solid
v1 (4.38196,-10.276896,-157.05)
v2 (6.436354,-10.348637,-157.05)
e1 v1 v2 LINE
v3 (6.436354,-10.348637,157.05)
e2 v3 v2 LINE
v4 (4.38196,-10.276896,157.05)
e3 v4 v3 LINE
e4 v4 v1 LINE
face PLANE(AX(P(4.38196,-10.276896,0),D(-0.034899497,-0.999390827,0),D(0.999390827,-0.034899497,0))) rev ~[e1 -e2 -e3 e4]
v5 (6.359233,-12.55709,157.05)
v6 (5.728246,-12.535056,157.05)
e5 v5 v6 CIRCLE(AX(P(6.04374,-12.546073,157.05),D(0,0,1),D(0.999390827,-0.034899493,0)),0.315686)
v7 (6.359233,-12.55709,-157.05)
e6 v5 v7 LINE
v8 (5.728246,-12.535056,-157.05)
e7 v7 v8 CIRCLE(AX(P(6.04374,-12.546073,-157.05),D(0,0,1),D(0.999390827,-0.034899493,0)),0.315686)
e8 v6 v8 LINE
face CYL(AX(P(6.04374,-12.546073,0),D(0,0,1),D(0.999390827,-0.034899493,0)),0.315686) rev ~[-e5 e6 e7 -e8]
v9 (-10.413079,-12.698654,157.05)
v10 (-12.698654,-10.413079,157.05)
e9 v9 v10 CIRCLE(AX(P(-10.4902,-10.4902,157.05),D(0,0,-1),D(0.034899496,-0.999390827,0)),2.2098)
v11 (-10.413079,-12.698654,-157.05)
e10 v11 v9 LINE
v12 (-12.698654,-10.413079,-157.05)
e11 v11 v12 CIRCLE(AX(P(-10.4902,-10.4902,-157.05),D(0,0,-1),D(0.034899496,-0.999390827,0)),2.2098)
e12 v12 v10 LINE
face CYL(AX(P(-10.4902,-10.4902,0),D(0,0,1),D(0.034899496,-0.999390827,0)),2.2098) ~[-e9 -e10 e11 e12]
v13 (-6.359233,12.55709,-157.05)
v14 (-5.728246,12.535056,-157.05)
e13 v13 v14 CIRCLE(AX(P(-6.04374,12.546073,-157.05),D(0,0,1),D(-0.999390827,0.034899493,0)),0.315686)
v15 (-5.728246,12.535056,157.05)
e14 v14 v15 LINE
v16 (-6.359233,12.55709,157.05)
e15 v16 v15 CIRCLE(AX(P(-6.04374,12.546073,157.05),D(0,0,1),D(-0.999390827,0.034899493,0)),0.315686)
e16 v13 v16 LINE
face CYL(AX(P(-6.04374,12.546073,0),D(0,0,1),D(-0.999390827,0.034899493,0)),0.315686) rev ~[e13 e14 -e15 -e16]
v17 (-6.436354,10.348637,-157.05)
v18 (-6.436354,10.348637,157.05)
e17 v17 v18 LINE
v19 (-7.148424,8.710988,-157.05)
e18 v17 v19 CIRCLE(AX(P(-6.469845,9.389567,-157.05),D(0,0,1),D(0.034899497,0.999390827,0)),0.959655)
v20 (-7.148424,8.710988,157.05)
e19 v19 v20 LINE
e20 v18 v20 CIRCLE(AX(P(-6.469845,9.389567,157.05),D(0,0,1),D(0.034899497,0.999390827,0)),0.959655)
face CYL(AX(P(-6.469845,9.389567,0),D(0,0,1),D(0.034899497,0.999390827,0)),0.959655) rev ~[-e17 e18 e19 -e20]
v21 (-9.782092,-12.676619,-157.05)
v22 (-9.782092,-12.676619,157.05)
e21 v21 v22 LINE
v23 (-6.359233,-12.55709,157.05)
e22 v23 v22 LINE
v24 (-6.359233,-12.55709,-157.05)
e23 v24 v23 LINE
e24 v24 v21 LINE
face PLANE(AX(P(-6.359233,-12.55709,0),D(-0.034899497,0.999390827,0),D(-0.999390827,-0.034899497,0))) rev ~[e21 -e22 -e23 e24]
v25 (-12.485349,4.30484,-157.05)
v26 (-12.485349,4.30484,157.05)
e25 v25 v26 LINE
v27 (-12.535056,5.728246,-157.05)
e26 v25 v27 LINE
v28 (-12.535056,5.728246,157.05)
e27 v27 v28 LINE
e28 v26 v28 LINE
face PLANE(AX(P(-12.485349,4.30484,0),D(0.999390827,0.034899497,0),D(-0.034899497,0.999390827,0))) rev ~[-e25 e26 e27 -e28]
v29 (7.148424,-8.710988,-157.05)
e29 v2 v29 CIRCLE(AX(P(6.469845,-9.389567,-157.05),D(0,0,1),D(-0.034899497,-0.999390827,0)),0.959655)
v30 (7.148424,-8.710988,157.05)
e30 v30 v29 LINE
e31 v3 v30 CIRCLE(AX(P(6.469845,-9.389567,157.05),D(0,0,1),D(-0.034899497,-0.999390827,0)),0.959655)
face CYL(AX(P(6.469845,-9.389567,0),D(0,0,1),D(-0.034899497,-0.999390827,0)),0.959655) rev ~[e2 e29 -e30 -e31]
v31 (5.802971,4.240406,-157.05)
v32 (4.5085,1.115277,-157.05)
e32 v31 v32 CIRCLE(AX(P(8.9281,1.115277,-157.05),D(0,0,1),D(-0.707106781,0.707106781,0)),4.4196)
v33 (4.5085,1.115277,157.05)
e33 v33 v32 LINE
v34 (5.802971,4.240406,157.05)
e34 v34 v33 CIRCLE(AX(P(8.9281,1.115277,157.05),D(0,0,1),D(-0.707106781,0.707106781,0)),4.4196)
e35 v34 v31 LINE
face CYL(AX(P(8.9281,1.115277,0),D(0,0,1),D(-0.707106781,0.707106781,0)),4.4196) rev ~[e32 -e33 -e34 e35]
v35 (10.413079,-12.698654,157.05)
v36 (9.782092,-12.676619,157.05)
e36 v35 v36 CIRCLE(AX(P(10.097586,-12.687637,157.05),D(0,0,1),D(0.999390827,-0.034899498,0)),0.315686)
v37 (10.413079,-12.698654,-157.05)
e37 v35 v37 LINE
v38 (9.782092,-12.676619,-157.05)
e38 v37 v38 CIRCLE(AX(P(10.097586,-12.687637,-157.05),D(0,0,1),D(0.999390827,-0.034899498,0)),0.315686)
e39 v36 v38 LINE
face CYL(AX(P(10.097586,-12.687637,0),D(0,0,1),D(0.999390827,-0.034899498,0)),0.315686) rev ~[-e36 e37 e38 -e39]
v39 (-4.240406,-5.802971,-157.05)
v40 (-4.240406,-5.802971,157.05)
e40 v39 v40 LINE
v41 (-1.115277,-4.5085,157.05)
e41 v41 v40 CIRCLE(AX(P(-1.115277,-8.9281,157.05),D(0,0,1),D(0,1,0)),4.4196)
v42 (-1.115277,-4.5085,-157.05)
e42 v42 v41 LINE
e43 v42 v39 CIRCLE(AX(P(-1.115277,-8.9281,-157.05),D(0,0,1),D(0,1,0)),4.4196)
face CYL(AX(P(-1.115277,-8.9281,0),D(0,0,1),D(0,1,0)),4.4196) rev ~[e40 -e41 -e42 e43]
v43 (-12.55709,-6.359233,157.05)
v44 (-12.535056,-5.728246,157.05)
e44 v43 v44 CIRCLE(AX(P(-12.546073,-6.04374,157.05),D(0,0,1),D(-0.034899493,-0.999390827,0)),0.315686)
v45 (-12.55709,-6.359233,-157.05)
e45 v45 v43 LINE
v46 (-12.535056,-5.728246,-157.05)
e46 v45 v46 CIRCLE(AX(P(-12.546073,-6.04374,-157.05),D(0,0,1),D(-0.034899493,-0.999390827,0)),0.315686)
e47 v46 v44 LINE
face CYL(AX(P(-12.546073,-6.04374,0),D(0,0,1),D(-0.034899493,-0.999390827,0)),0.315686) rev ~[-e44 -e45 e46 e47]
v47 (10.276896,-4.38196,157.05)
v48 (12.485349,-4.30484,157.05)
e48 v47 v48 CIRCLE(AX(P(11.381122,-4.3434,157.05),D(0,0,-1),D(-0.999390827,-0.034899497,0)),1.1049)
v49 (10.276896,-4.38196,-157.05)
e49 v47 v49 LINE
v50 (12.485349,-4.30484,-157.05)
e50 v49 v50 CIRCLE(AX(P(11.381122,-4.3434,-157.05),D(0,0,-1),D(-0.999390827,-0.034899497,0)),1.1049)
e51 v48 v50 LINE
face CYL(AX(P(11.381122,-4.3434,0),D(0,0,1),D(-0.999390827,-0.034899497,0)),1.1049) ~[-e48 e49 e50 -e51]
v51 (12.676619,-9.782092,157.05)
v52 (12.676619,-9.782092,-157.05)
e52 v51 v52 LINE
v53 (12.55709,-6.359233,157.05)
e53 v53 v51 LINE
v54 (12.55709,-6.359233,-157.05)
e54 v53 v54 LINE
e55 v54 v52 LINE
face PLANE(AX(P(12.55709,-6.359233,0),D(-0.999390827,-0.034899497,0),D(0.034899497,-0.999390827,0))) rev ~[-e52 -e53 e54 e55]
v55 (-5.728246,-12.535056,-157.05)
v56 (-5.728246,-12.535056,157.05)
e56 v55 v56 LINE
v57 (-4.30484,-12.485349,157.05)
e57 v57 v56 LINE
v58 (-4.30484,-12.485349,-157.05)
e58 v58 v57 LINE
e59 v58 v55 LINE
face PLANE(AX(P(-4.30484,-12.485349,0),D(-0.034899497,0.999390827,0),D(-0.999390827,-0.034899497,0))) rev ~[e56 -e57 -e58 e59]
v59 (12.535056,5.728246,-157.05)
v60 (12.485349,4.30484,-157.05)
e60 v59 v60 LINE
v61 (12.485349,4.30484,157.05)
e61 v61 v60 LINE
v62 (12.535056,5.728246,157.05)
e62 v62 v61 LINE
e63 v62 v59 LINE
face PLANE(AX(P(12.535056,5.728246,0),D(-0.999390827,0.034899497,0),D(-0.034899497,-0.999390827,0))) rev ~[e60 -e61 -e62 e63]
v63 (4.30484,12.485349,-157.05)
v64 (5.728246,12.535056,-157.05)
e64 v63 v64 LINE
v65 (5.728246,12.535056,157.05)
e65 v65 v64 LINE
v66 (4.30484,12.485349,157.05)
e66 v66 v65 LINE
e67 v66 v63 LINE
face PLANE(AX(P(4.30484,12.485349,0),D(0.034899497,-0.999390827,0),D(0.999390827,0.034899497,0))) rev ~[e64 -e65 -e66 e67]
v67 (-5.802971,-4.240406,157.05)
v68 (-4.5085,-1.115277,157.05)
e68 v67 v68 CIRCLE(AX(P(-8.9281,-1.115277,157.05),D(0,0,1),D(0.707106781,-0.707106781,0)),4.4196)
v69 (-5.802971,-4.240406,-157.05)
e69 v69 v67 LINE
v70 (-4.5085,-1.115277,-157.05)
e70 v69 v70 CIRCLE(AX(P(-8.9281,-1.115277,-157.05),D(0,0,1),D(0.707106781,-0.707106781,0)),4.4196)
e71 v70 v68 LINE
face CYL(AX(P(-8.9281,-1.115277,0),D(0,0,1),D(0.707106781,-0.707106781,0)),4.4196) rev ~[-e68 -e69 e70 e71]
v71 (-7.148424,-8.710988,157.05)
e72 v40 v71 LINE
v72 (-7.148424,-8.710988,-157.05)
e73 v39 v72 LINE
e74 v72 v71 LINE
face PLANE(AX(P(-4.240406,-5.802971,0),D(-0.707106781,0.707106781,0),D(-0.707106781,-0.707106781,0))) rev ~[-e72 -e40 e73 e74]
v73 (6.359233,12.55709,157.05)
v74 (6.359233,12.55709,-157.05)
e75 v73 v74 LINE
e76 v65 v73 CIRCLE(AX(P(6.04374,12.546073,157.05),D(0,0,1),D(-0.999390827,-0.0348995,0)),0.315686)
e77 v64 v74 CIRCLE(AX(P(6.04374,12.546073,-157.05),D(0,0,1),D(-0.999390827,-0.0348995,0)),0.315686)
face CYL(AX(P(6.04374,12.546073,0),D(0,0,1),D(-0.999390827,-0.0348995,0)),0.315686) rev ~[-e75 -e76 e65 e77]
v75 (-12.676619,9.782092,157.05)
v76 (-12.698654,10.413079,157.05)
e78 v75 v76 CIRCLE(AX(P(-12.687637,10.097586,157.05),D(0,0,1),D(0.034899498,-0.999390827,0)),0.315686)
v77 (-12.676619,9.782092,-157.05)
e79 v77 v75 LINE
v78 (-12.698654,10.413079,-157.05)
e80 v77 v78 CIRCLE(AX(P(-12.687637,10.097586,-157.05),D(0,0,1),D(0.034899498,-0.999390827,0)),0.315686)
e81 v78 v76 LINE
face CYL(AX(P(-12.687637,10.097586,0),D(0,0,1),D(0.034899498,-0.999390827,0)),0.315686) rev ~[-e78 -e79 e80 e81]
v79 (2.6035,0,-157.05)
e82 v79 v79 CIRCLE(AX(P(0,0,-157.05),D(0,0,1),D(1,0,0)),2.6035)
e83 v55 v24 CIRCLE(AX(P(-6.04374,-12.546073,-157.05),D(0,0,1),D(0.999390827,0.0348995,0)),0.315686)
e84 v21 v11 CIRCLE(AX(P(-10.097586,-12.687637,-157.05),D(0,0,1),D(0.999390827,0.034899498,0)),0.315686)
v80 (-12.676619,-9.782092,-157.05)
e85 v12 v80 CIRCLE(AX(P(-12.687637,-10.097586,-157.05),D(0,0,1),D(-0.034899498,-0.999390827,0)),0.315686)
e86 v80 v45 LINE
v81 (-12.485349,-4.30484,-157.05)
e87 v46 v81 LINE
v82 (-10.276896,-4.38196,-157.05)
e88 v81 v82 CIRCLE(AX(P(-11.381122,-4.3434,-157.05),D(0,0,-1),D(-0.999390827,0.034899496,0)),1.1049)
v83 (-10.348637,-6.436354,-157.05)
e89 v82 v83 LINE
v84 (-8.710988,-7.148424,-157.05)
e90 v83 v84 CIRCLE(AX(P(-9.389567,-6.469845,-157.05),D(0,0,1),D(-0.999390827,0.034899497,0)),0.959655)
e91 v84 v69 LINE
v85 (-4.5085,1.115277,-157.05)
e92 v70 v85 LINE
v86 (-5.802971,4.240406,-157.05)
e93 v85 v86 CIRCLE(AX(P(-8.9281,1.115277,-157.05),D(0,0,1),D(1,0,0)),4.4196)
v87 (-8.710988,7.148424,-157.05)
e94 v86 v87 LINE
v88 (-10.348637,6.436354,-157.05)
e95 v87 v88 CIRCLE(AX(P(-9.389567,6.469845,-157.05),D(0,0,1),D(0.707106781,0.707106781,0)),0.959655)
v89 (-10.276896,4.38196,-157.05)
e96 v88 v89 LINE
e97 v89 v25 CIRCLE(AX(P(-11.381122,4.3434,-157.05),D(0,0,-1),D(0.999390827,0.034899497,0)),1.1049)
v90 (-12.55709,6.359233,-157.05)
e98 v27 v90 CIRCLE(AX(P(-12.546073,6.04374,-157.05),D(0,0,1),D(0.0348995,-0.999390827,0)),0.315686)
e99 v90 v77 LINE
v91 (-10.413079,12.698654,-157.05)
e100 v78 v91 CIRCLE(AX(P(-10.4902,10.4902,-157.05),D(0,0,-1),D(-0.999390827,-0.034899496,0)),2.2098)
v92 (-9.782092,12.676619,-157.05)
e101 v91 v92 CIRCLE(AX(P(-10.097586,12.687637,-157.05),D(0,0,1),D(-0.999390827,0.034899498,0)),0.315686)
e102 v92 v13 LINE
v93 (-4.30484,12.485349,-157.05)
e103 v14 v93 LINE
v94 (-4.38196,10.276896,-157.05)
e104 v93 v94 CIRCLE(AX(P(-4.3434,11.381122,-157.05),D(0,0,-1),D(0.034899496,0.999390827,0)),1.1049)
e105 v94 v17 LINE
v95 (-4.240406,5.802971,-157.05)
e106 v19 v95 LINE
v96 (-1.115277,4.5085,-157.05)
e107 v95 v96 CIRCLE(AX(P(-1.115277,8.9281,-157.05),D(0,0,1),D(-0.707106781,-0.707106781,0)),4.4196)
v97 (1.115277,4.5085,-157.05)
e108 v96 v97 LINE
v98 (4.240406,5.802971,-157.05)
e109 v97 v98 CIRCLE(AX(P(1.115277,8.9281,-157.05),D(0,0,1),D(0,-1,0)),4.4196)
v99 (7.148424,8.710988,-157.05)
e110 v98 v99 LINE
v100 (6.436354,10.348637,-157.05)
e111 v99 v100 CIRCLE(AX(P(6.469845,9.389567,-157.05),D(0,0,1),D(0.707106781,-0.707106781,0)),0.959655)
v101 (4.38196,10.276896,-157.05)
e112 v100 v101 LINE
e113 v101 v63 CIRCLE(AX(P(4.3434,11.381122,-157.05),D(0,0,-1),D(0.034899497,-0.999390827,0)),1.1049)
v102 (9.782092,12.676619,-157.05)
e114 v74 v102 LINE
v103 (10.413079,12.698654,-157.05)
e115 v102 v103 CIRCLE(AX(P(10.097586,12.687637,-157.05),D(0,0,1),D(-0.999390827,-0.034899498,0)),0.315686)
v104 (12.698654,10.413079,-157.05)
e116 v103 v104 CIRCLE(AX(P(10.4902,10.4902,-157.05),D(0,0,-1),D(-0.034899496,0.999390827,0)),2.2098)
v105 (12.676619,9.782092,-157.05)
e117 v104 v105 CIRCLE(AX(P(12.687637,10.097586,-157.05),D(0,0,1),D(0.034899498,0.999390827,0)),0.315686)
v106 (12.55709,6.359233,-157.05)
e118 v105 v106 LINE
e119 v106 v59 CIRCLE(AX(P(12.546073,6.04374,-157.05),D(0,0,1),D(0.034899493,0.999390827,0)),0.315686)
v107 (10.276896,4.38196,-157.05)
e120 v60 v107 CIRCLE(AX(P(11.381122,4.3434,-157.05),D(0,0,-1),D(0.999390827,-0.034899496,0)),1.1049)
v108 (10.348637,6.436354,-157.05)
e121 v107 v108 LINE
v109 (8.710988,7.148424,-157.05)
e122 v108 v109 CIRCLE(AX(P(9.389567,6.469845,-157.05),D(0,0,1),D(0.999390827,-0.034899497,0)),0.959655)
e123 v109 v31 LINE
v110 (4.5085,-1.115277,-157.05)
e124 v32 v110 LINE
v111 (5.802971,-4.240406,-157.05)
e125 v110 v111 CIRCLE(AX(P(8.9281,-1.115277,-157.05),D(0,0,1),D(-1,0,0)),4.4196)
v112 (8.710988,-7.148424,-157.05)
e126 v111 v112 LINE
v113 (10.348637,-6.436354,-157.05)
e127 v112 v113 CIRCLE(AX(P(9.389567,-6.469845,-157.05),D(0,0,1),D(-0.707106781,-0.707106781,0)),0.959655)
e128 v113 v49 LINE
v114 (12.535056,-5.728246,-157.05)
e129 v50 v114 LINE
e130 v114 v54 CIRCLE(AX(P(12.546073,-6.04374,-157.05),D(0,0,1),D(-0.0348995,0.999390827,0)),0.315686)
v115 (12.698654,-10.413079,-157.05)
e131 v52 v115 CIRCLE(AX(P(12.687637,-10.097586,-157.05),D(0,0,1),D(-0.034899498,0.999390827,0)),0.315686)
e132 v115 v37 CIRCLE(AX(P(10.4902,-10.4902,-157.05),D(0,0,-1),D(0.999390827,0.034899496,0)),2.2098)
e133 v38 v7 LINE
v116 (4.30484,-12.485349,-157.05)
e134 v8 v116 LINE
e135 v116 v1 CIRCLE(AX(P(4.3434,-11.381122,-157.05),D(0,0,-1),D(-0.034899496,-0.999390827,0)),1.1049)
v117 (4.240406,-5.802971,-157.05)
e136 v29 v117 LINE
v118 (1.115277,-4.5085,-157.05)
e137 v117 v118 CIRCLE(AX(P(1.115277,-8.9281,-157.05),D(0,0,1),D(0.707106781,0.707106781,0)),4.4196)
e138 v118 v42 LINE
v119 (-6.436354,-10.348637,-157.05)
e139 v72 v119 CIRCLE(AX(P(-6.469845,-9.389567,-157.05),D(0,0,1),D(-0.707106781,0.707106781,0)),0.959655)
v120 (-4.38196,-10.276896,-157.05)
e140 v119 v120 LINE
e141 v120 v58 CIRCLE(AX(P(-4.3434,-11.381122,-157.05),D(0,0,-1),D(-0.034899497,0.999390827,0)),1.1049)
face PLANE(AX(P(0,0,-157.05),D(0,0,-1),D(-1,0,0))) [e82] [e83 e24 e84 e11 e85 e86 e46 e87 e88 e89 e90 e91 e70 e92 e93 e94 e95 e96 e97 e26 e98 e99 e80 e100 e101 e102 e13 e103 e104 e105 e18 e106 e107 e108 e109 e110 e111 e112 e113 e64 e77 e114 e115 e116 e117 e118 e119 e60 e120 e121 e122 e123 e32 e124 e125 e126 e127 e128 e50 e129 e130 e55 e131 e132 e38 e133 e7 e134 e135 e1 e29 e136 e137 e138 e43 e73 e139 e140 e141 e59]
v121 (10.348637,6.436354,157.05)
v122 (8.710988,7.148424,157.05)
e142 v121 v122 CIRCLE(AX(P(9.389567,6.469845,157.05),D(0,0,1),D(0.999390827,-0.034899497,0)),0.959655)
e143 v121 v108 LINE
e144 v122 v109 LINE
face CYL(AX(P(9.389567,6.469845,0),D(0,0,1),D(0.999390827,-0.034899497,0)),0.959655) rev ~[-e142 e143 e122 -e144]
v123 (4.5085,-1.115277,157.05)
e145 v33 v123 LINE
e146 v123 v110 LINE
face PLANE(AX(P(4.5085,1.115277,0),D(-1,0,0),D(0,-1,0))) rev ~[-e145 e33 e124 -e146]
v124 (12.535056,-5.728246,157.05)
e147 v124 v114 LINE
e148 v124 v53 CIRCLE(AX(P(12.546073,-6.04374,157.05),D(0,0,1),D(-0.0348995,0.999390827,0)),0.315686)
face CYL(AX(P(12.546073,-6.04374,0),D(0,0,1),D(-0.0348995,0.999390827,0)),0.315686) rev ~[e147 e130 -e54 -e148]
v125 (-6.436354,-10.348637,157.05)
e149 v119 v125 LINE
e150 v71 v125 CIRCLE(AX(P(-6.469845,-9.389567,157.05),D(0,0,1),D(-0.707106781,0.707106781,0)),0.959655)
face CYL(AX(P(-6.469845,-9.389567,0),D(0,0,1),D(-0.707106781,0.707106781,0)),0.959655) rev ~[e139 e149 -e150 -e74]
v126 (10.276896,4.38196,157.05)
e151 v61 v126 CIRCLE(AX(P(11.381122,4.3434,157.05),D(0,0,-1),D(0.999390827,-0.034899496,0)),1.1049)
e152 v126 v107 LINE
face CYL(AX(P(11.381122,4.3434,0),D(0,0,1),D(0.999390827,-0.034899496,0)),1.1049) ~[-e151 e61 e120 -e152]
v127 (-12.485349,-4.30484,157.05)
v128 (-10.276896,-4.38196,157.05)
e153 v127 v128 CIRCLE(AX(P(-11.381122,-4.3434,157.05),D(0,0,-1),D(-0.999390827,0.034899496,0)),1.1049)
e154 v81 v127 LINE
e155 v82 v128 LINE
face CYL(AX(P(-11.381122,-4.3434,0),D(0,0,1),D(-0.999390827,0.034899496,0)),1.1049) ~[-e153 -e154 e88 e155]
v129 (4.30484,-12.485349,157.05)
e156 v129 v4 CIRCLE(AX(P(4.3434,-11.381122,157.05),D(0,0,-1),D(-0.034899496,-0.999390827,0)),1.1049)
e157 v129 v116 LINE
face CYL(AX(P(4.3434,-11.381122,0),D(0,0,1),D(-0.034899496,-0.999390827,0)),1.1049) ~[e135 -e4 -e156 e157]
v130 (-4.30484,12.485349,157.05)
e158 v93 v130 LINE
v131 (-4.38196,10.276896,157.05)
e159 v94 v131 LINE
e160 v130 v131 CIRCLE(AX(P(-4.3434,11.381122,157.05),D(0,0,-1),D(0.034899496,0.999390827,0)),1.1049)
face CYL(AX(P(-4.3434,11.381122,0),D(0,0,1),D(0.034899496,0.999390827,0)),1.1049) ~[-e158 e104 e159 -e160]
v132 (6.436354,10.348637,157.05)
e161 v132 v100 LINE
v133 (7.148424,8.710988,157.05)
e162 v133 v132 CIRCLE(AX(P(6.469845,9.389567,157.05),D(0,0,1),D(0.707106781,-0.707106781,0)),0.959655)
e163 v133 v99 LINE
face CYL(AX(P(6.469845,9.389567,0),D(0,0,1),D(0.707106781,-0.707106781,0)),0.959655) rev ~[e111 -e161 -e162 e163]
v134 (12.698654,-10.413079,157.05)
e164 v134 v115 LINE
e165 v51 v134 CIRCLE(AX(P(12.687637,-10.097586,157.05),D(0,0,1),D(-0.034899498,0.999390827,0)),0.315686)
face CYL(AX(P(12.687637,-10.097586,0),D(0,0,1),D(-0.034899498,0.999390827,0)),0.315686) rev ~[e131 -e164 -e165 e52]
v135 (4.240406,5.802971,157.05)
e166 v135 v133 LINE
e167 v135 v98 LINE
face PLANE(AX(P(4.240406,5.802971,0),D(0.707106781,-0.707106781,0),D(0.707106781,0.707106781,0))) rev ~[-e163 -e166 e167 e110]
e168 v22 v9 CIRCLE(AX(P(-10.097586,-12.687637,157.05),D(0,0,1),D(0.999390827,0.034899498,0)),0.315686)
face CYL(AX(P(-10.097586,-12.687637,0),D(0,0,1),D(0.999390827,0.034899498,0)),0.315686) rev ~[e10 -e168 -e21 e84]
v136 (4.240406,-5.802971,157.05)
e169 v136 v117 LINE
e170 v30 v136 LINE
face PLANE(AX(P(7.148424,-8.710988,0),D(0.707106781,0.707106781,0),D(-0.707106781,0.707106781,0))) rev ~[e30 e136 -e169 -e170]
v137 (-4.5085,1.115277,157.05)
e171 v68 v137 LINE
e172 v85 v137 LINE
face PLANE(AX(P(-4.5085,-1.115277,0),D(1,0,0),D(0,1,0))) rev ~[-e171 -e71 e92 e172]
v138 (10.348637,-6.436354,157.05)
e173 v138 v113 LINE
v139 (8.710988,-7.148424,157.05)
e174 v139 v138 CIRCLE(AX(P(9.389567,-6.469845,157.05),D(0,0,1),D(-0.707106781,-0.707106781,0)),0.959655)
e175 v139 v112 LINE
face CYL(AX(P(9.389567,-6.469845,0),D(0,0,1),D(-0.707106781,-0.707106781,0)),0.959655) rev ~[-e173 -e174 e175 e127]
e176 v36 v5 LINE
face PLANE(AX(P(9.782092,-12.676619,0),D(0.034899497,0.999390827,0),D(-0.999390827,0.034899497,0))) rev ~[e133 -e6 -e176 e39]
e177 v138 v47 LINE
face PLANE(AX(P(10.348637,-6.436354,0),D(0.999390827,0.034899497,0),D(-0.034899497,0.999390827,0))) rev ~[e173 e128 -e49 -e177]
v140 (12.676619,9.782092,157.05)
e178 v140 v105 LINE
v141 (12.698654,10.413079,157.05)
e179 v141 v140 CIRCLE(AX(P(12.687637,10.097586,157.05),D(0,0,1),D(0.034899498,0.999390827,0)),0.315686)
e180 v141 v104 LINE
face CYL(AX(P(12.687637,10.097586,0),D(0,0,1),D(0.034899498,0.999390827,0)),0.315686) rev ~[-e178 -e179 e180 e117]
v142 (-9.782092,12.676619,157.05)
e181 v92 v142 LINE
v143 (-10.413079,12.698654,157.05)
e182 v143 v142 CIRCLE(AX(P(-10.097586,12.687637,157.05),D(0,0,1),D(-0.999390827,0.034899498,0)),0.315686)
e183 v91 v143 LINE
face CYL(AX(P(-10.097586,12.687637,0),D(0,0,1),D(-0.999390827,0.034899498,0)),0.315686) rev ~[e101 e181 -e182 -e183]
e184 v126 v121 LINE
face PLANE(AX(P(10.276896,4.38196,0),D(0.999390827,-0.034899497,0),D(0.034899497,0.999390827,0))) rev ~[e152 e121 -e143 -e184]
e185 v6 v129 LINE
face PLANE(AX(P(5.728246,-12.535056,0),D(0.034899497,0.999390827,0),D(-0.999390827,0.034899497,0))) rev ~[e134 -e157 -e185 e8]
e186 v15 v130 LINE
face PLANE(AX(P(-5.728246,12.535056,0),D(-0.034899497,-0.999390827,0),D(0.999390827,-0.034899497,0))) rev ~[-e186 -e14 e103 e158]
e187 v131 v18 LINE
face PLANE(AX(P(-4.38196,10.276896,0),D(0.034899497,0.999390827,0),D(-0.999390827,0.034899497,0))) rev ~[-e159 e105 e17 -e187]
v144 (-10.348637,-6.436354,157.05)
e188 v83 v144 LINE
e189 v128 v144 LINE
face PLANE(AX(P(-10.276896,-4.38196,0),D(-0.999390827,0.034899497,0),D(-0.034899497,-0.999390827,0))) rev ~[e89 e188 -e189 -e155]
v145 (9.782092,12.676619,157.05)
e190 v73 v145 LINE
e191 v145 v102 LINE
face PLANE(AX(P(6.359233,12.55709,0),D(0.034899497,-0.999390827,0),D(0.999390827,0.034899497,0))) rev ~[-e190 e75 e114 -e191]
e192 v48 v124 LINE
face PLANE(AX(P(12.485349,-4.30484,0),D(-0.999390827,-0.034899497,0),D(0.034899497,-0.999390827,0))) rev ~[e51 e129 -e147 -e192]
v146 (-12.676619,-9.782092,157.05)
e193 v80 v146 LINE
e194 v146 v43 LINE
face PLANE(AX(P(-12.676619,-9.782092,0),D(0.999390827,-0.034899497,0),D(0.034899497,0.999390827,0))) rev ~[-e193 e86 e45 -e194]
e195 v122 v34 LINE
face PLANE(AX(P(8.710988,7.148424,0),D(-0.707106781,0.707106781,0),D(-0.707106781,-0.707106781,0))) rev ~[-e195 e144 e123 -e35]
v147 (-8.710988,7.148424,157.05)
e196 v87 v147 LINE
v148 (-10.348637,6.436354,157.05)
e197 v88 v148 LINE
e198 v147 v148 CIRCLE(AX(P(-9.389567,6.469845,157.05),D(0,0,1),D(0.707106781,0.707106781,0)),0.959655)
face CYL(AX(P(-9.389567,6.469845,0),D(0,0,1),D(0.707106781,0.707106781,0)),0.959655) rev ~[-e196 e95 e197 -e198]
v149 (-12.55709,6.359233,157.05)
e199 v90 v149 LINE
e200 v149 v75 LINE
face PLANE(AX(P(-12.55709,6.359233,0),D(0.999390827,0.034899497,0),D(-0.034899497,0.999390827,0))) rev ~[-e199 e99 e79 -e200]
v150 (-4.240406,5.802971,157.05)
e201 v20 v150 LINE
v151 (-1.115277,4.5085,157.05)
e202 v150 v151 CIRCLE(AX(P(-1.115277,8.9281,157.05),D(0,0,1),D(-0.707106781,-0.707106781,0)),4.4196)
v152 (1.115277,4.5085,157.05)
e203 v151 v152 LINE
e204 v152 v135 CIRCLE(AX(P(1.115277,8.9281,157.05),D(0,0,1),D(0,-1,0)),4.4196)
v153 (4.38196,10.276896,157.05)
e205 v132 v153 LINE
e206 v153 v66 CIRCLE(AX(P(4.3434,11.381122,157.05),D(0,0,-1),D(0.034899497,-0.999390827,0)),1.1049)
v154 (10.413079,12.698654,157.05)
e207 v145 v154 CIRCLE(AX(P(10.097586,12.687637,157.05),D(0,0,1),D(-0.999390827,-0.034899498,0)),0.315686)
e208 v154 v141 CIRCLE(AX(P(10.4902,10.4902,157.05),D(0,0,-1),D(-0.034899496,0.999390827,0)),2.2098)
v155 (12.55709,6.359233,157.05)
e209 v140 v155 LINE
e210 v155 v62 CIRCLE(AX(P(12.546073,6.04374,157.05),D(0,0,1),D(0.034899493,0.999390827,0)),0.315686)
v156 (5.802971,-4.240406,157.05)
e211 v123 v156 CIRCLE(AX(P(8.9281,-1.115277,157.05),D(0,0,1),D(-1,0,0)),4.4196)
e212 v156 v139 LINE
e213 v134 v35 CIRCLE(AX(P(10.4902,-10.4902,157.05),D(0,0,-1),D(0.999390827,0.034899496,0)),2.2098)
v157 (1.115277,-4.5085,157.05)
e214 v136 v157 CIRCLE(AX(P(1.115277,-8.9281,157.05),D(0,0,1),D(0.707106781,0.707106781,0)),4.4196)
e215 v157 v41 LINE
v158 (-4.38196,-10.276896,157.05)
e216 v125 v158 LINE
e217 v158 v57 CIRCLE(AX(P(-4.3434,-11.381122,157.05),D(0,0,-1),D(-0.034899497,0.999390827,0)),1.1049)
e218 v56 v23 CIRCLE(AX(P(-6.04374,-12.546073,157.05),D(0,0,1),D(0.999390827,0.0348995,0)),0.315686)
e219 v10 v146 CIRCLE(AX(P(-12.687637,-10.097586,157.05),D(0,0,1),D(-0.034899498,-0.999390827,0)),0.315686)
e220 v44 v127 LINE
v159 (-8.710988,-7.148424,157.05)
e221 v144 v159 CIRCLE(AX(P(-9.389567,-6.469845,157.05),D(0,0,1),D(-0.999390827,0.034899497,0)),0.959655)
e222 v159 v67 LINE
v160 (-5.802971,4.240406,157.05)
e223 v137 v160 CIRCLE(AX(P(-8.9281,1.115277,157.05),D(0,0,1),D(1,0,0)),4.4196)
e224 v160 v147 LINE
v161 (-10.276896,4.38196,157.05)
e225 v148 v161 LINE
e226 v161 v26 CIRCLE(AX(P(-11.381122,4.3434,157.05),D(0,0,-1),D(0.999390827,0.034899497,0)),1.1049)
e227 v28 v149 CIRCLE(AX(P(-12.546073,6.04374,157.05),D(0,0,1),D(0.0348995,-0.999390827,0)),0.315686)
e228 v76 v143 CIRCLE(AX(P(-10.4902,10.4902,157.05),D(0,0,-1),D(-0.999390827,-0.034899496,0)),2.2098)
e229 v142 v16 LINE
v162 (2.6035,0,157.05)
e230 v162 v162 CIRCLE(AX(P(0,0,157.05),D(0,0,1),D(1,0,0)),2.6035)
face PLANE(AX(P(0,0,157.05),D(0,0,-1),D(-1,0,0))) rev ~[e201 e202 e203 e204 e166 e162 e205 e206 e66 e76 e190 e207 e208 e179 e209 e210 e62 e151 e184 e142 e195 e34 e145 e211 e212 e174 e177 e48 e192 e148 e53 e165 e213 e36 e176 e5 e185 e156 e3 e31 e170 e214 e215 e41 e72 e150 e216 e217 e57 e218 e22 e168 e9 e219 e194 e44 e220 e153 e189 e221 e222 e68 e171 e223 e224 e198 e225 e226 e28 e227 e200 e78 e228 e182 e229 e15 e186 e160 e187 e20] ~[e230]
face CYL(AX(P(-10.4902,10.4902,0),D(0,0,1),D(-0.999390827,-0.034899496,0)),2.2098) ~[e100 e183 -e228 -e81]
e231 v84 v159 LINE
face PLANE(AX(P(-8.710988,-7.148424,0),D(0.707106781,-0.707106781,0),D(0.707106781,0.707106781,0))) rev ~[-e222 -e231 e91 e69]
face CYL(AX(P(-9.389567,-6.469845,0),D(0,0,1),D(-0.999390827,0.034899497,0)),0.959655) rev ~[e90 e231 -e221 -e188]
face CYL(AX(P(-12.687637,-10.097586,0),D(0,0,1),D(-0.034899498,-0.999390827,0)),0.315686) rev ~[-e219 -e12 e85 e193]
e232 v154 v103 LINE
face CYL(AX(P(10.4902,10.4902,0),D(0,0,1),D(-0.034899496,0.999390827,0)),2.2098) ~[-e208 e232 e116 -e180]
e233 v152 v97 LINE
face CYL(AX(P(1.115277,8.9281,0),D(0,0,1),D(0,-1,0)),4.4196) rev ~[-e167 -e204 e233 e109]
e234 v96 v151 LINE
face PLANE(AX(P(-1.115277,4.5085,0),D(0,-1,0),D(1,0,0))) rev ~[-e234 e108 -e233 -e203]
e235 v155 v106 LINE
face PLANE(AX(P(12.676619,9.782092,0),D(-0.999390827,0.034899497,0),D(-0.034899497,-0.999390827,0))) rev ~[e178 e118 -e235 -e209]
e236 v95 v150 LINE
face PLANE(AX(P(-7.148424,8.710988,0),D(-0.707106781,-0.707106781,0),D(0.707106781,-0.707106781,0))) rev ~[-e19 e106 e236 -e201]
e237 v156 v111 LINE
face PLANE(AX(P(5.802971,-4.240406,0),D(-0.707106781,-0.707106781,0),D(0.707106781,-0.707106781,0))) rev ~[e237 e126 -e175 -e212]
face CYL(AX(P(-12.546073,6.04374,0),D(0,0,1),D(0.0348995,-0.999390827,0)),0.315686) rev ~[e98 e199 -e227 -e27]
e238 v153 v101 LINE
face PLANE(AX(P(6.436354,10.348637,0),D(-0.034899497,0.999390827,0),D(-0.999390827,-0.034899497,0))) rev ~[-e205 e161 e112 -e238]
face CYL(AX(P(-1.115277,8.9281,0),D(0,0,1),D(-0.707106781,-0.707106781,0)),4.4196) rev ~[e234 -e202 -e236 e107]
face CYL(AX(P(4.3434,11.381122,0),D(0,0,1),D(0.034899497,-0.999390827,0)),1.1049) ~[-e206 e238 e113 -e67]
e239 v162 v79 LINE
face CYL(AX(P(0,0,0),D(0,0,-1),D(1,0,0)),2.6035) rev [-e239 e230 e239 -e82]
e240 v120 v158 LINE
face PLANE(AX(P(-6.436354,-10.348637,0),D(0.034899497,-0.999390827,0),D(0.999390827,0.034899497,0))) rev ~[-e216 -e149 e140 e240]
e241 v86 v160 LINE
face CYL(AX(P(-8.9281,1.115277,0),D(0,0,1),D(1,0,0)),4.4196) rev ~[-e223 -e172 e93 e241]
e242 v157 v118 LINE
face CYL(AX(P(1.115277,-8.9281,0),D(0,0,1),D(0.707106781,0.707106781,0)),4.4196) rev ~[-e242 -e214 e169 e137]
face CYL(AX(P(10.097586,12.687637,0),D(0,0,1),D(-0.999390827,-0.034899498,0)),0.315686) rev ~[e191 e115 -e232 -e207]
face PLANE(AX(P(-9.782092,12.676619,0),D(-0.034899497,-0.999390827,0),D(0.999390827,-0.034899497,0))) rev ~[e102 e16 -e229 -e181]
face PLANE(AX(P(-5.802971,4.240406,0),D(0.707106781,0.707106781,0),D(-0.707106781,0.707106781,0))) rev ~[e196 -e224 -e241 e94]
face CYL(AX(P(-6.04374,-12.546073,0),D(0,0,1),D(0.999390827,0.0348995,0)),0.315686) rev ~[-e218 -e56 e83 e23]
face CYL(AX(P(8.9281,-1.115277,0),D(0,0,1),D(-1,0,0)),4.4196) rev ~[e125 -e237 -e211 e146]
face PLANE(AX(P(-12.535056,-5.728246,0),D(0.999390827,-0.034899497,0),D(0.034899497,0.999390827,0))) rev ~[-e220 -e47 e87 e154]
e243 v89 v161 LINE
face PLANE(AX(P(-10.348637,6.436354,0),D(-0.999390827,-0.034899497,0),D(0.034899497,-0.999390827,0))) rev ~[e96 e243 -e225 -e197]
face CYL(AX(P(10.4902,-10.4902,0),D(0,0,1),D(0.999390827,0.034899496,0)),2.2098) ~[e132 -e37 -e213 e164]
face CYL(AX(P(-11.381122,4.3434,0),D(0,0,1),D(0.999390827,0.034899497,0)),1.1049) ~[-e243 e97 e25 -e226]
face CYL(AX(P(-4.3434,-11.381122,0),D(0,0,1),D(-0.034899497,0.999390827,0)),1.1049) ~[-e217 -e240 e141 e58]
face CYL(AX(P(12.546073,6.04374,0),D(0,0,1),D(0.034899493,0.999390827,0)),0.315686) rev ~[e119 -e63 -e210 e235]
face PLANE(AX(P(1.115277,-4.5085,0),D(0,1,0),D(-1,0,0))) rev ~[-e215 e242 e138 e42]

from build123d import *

# Parameters (mm, degrees)
SKETCH3_R      = 2.6035
EXTRUDE1_DEPTH = 157.05


with BuildPart() as part:
    # Sketch3 → Extrude1 (new, symmetric)
    with BuildSketch(Plane.XY):
        with BuildLine():
            Line((-1.115277175, 4.5085), (1.115277175, 4.5085))
            ThreePointArc((1.115277175, 4.5085), (2.806584872, 4.844922018), (4.240406305, 5.80297087))
            Line((4.240406305, 5.80297087), (7.148423664, 8.710988229))
            ThreePointArc((7.148423664, 8.710988229), (7.349906316, 9.772227925), (6.436353897, 10.348636575))
            Line((6.436353897, 10.348636575), (4.381960454, 10.276895575))
            ThreePointArc((4.381960454, 10.276895575), (3.239173075, 11.342562046), (4.304839546, 12.485349424))
            Line((4.304839546, 12.485349424), (5.728246175, 12.535055879))
            ThreePointArc((5.728246175, 12.535055879), (6.054756855, 12.230579745), (6.35923299, 12.557090424))
            Line((6.35923299, 12.557090424), (9.782092278, 12.676619304))
            ThreePointArc((9.782092278, 12.676619304), (10.108602958, 12.37214317), (10.413079092, 12.69865385))
            ThreePointArc((10.413079092, 12.69865385), (12.052764565, 12.052764565), (12.69865385, 10.413079092))
            ThreePointArc((12.69865385, 10.413079092), (12.37214317, 10.108602958), (12.676619304, 9.782092278))
            Line((12.676619304, 9.782092278), (12.557090424, 6.35923299))
            ThreePointArc((12.557090424, 6.35923299), (12.230579745, 6.054756855), (12.535055879, 5.728246175))
            Line((12.535055879, 5.728246175), (12.485349424, 4.304839546))
            ThreePointArc((12.485349424, 4.304839546), (11.342562046, 3.239173075), (10.276895575, 4.381960454))
            Line((10.276895575, 4.381960454), (10.348636575, 6.436353897))
            ThreePointArc((10.348636575, 6.436353897), (9.772227925, 7.349906316), (8.710988229, 7.148423664))
            Line((8.710988229, 7.148423664), (5.80297087, 4.240406305))
            ThreePointArc((5.80297087, 4.240406305), (4.844922018, 2.806584872), (4.5085, 1.115277175))
            Line((4.5085, 1.115277175), (4.5085, -1.115277175))
            ThreePointArc((4.5085, -1.115277175), (4.844922018, -2.806584872), (5.80297087, -4.240406305))
            Line((5.80297087, -4.240406305), (8.710988229, -7.148423664))
            ThreePointArc((8.710988229, -7.148423664), (9.772227925, -7.349906316), (10.348636575, -6.436353897))
            Line((10.348636575, -6.436353897), (10.276895575, -4.381960454))
            ThreePointArc((10.276895575, -4.381960454), (11.342562046, -3.239173075), (12.485349424, -4.304839546))
            Line((12.485349424, -4.304839546), (12.535055879, -5.728246175))
            ThreePointArc((12.535055879, -5.728246175), (12.230579745, -6.054756855), (12.557090424, -6.35923299))
            Line((12.557090424, -6.35923299), (12.676619304, -9.782092278))
            ThreePointArc((12.676619304, -9.782092278), (12.37214317, -10.108602958), (12.69865385, -10.413079092))
            ThreePointArc((12.69865385, -10.413079092), (12.052764565, -12.052764565), (10.413079092, -12.69865385))
            ThreePointArc((10.413079092, -12.69865385), (10.108602958, -12.37214317), (9.782092278, -12.676619304))
            Line((9.782092278, -12.676619304), (6.35923299, -12.557090424))
            ThreePointArc((6.35923299, -12.557090424), (6.054756855, -12.230579745), (5.728246175, -12.535055879))
            Line((5.728246175, -12.535055879), (4.304839546, -12.485349424))
            ThreePointArc((4.304839546, -12.485349424), (3.239173075, -11.342562046), (4.381960454, -10.276895575))
            Line((4.381960454, -10.276895575), (6.436353897, -10.348636575))
            ThreePointArc((6.436353897, -10.348636575), (7.349906316, -9.772227925), (7.148423664, -8.710988229))
            Line((7.148423664, -8.710988229), (4.240406305, -5.80297087))
            ThreePointArc((4.240406305, -5.80297087), (2.806584872, -4.844922018), (1.115277175, -4.5085))
            Line((1.115277175, -4.5085), (-1.115277175, -4.5085))
            ThreePointArc((-1.115277175, -4.5085), (-2.806584872, -4.844922018), (-4.240406305, -5.80297087))
            Line((-4.240406305, -5.80297087), (-7.148423664, -8.710988229))
            ThreePointArc((-7.148423664, -8.710988229), (-7.349906316, -9.772227925), (-6.436353897, -10.348636575))
            Line((-6.436353897, -10.348636575), (-4.381960454, -10.276895575))
            ThreePointArc((-4.381960454, -10.276895575), (-3.239173075, -11.342562046), (-4.304839546, -12.485349424))
            Line((-4.304839546, -12.485349424), (-5.728246175, -12.535055879))
            ThreePointArc((-5.728246175, -12.535055879), (-6.054756855, -12.230579745), (-6.35923299, -12.557090424))
            Line((-6.35923299, -12.557090424), (-9.782092278, -12.676619304))
            ThreePointArc((-9.782092278, -12.676619304), (-10.108602958, -12.37214317), (-10.413079092, -12.69865385))
            ThreePointArc((-10.413079092, -12.69865385), (-12.052764565, -12.052764565), (-12.69865385, -10.413079092))
            ThreePointArc((-12.69865385, -10.413079092), (-12.37214317, -10.108602958), (-12.676619304, -9.782092278))
            Line((-12.676619304, -9.782092278), (-12.557090424, -6.35923299))
            ThreePointArc((-12.557090424, -6.35923299), (-12.230579745, -6.054756855), (-12.535055879, -5.728246175))
            Line((-12.535055879, -5.728246175), (-12.485349424, -4.304839546))
            ThreePointArc((-12.485349424, -4.304839546), (-11.342562046, -3.239173075), (-10.276895575, -4.381960454))
            Line((-10.276895575, -4.381960454), (-10.348636575, -6.436353897))
            ThreePointArc((-10.348636575, -6.436353897), (-9.772227925, -7.349906316), (-8.710988229, -7.148423664))
            Line((-8.710988229, -7.148423664), (-5.80297087, -4.240406305))
            ThreePointArc((-5.80297087, -4.240406305), (-4.844922018, -2.806584872), (-4.5085, -1.115277175))
            Line((-4.5085, -1.115277175), (-4.5085, 1.115277175))
            ThreePointArc((-4.5085, 1.115277175), (-4.844922018, 2.806584872), (-5.80297087, 4.240406305))
            Line((-5.80297087, 4.240406305), (-8.710988229, 7.148423664))
            ThreePointArc((-8.710988229, 7.148423664), (-9.772227925, 7.349906316), (-10.348636575, 6.436353897))
            Line((-10.348636575, 6.436353897), (-10.276895575, 4.381960454))
            ThreePointArc((-10.276895575, 4.381960454), (-11.342562046, 3.239173075), (-12.485349424, 4.304839546))
            Line((-12.485349424, 4.304839546), (-12.535055879, 5.728246175))
            ThreePointArc((-12.535055879, 5.728246175), (-12.230579745, 6.054756855), (-12.557090424, 6.35923299))
            Line((-12.557090424, 6.35923299), (-12.676619304, 9.782092278))
            ThreePointArc((-12.676619304, 9.782092278), (-12.37214317, 10.108602958), (-12.69865385, 10.413079092))
            ThreePointArc((-12.69865385, 10.413079092), (-12.052764565, 12.052764565), (-10.413079092, 12.69865385))
            ThreePointArc((-10.413079092, 12.69865385), (-10.108602958, 12.37214317), (-9.782092278, 12.676619304))
            Line((-9.782092278, 12.676619304), (-6.35923299, 12.557090424))
            ThreePointArc((-6.35923299, 12.557090424), (-6.054756855, 12.230579745), (-5.728246175, 12.535055879))
            Line((-5.728246175, 12.535055879), (-4.304839546, 12.485349424))
            ThreePointArc((-4.304839546, 12.485349424), (-3.239173075, 11.342562046), (-4.381960454, 10.276895575))
            Line((-4.381960454, 10.276895575), (-6.436353897, 10.348636575))
            ThreePointArc((-6.436353897, 10.348636575), (-7.349906316, 9.772227925), (-7.148423664, 8.710988229))
            Line((-7.148423664, 8.710988229), (-4.240406305, 5.80297087))
            ThreePointArc((-4.240406305, 5.80297087), (-2.806584872, 4.844922018), (-1.115277175, 4.5085))
        make_face()
        Circle(SKETCH3_R, mode=Mode.SUBTRACT)
    extrude(amount=EXTRUDE1_DEPTH, both=True)


solid = part.part
